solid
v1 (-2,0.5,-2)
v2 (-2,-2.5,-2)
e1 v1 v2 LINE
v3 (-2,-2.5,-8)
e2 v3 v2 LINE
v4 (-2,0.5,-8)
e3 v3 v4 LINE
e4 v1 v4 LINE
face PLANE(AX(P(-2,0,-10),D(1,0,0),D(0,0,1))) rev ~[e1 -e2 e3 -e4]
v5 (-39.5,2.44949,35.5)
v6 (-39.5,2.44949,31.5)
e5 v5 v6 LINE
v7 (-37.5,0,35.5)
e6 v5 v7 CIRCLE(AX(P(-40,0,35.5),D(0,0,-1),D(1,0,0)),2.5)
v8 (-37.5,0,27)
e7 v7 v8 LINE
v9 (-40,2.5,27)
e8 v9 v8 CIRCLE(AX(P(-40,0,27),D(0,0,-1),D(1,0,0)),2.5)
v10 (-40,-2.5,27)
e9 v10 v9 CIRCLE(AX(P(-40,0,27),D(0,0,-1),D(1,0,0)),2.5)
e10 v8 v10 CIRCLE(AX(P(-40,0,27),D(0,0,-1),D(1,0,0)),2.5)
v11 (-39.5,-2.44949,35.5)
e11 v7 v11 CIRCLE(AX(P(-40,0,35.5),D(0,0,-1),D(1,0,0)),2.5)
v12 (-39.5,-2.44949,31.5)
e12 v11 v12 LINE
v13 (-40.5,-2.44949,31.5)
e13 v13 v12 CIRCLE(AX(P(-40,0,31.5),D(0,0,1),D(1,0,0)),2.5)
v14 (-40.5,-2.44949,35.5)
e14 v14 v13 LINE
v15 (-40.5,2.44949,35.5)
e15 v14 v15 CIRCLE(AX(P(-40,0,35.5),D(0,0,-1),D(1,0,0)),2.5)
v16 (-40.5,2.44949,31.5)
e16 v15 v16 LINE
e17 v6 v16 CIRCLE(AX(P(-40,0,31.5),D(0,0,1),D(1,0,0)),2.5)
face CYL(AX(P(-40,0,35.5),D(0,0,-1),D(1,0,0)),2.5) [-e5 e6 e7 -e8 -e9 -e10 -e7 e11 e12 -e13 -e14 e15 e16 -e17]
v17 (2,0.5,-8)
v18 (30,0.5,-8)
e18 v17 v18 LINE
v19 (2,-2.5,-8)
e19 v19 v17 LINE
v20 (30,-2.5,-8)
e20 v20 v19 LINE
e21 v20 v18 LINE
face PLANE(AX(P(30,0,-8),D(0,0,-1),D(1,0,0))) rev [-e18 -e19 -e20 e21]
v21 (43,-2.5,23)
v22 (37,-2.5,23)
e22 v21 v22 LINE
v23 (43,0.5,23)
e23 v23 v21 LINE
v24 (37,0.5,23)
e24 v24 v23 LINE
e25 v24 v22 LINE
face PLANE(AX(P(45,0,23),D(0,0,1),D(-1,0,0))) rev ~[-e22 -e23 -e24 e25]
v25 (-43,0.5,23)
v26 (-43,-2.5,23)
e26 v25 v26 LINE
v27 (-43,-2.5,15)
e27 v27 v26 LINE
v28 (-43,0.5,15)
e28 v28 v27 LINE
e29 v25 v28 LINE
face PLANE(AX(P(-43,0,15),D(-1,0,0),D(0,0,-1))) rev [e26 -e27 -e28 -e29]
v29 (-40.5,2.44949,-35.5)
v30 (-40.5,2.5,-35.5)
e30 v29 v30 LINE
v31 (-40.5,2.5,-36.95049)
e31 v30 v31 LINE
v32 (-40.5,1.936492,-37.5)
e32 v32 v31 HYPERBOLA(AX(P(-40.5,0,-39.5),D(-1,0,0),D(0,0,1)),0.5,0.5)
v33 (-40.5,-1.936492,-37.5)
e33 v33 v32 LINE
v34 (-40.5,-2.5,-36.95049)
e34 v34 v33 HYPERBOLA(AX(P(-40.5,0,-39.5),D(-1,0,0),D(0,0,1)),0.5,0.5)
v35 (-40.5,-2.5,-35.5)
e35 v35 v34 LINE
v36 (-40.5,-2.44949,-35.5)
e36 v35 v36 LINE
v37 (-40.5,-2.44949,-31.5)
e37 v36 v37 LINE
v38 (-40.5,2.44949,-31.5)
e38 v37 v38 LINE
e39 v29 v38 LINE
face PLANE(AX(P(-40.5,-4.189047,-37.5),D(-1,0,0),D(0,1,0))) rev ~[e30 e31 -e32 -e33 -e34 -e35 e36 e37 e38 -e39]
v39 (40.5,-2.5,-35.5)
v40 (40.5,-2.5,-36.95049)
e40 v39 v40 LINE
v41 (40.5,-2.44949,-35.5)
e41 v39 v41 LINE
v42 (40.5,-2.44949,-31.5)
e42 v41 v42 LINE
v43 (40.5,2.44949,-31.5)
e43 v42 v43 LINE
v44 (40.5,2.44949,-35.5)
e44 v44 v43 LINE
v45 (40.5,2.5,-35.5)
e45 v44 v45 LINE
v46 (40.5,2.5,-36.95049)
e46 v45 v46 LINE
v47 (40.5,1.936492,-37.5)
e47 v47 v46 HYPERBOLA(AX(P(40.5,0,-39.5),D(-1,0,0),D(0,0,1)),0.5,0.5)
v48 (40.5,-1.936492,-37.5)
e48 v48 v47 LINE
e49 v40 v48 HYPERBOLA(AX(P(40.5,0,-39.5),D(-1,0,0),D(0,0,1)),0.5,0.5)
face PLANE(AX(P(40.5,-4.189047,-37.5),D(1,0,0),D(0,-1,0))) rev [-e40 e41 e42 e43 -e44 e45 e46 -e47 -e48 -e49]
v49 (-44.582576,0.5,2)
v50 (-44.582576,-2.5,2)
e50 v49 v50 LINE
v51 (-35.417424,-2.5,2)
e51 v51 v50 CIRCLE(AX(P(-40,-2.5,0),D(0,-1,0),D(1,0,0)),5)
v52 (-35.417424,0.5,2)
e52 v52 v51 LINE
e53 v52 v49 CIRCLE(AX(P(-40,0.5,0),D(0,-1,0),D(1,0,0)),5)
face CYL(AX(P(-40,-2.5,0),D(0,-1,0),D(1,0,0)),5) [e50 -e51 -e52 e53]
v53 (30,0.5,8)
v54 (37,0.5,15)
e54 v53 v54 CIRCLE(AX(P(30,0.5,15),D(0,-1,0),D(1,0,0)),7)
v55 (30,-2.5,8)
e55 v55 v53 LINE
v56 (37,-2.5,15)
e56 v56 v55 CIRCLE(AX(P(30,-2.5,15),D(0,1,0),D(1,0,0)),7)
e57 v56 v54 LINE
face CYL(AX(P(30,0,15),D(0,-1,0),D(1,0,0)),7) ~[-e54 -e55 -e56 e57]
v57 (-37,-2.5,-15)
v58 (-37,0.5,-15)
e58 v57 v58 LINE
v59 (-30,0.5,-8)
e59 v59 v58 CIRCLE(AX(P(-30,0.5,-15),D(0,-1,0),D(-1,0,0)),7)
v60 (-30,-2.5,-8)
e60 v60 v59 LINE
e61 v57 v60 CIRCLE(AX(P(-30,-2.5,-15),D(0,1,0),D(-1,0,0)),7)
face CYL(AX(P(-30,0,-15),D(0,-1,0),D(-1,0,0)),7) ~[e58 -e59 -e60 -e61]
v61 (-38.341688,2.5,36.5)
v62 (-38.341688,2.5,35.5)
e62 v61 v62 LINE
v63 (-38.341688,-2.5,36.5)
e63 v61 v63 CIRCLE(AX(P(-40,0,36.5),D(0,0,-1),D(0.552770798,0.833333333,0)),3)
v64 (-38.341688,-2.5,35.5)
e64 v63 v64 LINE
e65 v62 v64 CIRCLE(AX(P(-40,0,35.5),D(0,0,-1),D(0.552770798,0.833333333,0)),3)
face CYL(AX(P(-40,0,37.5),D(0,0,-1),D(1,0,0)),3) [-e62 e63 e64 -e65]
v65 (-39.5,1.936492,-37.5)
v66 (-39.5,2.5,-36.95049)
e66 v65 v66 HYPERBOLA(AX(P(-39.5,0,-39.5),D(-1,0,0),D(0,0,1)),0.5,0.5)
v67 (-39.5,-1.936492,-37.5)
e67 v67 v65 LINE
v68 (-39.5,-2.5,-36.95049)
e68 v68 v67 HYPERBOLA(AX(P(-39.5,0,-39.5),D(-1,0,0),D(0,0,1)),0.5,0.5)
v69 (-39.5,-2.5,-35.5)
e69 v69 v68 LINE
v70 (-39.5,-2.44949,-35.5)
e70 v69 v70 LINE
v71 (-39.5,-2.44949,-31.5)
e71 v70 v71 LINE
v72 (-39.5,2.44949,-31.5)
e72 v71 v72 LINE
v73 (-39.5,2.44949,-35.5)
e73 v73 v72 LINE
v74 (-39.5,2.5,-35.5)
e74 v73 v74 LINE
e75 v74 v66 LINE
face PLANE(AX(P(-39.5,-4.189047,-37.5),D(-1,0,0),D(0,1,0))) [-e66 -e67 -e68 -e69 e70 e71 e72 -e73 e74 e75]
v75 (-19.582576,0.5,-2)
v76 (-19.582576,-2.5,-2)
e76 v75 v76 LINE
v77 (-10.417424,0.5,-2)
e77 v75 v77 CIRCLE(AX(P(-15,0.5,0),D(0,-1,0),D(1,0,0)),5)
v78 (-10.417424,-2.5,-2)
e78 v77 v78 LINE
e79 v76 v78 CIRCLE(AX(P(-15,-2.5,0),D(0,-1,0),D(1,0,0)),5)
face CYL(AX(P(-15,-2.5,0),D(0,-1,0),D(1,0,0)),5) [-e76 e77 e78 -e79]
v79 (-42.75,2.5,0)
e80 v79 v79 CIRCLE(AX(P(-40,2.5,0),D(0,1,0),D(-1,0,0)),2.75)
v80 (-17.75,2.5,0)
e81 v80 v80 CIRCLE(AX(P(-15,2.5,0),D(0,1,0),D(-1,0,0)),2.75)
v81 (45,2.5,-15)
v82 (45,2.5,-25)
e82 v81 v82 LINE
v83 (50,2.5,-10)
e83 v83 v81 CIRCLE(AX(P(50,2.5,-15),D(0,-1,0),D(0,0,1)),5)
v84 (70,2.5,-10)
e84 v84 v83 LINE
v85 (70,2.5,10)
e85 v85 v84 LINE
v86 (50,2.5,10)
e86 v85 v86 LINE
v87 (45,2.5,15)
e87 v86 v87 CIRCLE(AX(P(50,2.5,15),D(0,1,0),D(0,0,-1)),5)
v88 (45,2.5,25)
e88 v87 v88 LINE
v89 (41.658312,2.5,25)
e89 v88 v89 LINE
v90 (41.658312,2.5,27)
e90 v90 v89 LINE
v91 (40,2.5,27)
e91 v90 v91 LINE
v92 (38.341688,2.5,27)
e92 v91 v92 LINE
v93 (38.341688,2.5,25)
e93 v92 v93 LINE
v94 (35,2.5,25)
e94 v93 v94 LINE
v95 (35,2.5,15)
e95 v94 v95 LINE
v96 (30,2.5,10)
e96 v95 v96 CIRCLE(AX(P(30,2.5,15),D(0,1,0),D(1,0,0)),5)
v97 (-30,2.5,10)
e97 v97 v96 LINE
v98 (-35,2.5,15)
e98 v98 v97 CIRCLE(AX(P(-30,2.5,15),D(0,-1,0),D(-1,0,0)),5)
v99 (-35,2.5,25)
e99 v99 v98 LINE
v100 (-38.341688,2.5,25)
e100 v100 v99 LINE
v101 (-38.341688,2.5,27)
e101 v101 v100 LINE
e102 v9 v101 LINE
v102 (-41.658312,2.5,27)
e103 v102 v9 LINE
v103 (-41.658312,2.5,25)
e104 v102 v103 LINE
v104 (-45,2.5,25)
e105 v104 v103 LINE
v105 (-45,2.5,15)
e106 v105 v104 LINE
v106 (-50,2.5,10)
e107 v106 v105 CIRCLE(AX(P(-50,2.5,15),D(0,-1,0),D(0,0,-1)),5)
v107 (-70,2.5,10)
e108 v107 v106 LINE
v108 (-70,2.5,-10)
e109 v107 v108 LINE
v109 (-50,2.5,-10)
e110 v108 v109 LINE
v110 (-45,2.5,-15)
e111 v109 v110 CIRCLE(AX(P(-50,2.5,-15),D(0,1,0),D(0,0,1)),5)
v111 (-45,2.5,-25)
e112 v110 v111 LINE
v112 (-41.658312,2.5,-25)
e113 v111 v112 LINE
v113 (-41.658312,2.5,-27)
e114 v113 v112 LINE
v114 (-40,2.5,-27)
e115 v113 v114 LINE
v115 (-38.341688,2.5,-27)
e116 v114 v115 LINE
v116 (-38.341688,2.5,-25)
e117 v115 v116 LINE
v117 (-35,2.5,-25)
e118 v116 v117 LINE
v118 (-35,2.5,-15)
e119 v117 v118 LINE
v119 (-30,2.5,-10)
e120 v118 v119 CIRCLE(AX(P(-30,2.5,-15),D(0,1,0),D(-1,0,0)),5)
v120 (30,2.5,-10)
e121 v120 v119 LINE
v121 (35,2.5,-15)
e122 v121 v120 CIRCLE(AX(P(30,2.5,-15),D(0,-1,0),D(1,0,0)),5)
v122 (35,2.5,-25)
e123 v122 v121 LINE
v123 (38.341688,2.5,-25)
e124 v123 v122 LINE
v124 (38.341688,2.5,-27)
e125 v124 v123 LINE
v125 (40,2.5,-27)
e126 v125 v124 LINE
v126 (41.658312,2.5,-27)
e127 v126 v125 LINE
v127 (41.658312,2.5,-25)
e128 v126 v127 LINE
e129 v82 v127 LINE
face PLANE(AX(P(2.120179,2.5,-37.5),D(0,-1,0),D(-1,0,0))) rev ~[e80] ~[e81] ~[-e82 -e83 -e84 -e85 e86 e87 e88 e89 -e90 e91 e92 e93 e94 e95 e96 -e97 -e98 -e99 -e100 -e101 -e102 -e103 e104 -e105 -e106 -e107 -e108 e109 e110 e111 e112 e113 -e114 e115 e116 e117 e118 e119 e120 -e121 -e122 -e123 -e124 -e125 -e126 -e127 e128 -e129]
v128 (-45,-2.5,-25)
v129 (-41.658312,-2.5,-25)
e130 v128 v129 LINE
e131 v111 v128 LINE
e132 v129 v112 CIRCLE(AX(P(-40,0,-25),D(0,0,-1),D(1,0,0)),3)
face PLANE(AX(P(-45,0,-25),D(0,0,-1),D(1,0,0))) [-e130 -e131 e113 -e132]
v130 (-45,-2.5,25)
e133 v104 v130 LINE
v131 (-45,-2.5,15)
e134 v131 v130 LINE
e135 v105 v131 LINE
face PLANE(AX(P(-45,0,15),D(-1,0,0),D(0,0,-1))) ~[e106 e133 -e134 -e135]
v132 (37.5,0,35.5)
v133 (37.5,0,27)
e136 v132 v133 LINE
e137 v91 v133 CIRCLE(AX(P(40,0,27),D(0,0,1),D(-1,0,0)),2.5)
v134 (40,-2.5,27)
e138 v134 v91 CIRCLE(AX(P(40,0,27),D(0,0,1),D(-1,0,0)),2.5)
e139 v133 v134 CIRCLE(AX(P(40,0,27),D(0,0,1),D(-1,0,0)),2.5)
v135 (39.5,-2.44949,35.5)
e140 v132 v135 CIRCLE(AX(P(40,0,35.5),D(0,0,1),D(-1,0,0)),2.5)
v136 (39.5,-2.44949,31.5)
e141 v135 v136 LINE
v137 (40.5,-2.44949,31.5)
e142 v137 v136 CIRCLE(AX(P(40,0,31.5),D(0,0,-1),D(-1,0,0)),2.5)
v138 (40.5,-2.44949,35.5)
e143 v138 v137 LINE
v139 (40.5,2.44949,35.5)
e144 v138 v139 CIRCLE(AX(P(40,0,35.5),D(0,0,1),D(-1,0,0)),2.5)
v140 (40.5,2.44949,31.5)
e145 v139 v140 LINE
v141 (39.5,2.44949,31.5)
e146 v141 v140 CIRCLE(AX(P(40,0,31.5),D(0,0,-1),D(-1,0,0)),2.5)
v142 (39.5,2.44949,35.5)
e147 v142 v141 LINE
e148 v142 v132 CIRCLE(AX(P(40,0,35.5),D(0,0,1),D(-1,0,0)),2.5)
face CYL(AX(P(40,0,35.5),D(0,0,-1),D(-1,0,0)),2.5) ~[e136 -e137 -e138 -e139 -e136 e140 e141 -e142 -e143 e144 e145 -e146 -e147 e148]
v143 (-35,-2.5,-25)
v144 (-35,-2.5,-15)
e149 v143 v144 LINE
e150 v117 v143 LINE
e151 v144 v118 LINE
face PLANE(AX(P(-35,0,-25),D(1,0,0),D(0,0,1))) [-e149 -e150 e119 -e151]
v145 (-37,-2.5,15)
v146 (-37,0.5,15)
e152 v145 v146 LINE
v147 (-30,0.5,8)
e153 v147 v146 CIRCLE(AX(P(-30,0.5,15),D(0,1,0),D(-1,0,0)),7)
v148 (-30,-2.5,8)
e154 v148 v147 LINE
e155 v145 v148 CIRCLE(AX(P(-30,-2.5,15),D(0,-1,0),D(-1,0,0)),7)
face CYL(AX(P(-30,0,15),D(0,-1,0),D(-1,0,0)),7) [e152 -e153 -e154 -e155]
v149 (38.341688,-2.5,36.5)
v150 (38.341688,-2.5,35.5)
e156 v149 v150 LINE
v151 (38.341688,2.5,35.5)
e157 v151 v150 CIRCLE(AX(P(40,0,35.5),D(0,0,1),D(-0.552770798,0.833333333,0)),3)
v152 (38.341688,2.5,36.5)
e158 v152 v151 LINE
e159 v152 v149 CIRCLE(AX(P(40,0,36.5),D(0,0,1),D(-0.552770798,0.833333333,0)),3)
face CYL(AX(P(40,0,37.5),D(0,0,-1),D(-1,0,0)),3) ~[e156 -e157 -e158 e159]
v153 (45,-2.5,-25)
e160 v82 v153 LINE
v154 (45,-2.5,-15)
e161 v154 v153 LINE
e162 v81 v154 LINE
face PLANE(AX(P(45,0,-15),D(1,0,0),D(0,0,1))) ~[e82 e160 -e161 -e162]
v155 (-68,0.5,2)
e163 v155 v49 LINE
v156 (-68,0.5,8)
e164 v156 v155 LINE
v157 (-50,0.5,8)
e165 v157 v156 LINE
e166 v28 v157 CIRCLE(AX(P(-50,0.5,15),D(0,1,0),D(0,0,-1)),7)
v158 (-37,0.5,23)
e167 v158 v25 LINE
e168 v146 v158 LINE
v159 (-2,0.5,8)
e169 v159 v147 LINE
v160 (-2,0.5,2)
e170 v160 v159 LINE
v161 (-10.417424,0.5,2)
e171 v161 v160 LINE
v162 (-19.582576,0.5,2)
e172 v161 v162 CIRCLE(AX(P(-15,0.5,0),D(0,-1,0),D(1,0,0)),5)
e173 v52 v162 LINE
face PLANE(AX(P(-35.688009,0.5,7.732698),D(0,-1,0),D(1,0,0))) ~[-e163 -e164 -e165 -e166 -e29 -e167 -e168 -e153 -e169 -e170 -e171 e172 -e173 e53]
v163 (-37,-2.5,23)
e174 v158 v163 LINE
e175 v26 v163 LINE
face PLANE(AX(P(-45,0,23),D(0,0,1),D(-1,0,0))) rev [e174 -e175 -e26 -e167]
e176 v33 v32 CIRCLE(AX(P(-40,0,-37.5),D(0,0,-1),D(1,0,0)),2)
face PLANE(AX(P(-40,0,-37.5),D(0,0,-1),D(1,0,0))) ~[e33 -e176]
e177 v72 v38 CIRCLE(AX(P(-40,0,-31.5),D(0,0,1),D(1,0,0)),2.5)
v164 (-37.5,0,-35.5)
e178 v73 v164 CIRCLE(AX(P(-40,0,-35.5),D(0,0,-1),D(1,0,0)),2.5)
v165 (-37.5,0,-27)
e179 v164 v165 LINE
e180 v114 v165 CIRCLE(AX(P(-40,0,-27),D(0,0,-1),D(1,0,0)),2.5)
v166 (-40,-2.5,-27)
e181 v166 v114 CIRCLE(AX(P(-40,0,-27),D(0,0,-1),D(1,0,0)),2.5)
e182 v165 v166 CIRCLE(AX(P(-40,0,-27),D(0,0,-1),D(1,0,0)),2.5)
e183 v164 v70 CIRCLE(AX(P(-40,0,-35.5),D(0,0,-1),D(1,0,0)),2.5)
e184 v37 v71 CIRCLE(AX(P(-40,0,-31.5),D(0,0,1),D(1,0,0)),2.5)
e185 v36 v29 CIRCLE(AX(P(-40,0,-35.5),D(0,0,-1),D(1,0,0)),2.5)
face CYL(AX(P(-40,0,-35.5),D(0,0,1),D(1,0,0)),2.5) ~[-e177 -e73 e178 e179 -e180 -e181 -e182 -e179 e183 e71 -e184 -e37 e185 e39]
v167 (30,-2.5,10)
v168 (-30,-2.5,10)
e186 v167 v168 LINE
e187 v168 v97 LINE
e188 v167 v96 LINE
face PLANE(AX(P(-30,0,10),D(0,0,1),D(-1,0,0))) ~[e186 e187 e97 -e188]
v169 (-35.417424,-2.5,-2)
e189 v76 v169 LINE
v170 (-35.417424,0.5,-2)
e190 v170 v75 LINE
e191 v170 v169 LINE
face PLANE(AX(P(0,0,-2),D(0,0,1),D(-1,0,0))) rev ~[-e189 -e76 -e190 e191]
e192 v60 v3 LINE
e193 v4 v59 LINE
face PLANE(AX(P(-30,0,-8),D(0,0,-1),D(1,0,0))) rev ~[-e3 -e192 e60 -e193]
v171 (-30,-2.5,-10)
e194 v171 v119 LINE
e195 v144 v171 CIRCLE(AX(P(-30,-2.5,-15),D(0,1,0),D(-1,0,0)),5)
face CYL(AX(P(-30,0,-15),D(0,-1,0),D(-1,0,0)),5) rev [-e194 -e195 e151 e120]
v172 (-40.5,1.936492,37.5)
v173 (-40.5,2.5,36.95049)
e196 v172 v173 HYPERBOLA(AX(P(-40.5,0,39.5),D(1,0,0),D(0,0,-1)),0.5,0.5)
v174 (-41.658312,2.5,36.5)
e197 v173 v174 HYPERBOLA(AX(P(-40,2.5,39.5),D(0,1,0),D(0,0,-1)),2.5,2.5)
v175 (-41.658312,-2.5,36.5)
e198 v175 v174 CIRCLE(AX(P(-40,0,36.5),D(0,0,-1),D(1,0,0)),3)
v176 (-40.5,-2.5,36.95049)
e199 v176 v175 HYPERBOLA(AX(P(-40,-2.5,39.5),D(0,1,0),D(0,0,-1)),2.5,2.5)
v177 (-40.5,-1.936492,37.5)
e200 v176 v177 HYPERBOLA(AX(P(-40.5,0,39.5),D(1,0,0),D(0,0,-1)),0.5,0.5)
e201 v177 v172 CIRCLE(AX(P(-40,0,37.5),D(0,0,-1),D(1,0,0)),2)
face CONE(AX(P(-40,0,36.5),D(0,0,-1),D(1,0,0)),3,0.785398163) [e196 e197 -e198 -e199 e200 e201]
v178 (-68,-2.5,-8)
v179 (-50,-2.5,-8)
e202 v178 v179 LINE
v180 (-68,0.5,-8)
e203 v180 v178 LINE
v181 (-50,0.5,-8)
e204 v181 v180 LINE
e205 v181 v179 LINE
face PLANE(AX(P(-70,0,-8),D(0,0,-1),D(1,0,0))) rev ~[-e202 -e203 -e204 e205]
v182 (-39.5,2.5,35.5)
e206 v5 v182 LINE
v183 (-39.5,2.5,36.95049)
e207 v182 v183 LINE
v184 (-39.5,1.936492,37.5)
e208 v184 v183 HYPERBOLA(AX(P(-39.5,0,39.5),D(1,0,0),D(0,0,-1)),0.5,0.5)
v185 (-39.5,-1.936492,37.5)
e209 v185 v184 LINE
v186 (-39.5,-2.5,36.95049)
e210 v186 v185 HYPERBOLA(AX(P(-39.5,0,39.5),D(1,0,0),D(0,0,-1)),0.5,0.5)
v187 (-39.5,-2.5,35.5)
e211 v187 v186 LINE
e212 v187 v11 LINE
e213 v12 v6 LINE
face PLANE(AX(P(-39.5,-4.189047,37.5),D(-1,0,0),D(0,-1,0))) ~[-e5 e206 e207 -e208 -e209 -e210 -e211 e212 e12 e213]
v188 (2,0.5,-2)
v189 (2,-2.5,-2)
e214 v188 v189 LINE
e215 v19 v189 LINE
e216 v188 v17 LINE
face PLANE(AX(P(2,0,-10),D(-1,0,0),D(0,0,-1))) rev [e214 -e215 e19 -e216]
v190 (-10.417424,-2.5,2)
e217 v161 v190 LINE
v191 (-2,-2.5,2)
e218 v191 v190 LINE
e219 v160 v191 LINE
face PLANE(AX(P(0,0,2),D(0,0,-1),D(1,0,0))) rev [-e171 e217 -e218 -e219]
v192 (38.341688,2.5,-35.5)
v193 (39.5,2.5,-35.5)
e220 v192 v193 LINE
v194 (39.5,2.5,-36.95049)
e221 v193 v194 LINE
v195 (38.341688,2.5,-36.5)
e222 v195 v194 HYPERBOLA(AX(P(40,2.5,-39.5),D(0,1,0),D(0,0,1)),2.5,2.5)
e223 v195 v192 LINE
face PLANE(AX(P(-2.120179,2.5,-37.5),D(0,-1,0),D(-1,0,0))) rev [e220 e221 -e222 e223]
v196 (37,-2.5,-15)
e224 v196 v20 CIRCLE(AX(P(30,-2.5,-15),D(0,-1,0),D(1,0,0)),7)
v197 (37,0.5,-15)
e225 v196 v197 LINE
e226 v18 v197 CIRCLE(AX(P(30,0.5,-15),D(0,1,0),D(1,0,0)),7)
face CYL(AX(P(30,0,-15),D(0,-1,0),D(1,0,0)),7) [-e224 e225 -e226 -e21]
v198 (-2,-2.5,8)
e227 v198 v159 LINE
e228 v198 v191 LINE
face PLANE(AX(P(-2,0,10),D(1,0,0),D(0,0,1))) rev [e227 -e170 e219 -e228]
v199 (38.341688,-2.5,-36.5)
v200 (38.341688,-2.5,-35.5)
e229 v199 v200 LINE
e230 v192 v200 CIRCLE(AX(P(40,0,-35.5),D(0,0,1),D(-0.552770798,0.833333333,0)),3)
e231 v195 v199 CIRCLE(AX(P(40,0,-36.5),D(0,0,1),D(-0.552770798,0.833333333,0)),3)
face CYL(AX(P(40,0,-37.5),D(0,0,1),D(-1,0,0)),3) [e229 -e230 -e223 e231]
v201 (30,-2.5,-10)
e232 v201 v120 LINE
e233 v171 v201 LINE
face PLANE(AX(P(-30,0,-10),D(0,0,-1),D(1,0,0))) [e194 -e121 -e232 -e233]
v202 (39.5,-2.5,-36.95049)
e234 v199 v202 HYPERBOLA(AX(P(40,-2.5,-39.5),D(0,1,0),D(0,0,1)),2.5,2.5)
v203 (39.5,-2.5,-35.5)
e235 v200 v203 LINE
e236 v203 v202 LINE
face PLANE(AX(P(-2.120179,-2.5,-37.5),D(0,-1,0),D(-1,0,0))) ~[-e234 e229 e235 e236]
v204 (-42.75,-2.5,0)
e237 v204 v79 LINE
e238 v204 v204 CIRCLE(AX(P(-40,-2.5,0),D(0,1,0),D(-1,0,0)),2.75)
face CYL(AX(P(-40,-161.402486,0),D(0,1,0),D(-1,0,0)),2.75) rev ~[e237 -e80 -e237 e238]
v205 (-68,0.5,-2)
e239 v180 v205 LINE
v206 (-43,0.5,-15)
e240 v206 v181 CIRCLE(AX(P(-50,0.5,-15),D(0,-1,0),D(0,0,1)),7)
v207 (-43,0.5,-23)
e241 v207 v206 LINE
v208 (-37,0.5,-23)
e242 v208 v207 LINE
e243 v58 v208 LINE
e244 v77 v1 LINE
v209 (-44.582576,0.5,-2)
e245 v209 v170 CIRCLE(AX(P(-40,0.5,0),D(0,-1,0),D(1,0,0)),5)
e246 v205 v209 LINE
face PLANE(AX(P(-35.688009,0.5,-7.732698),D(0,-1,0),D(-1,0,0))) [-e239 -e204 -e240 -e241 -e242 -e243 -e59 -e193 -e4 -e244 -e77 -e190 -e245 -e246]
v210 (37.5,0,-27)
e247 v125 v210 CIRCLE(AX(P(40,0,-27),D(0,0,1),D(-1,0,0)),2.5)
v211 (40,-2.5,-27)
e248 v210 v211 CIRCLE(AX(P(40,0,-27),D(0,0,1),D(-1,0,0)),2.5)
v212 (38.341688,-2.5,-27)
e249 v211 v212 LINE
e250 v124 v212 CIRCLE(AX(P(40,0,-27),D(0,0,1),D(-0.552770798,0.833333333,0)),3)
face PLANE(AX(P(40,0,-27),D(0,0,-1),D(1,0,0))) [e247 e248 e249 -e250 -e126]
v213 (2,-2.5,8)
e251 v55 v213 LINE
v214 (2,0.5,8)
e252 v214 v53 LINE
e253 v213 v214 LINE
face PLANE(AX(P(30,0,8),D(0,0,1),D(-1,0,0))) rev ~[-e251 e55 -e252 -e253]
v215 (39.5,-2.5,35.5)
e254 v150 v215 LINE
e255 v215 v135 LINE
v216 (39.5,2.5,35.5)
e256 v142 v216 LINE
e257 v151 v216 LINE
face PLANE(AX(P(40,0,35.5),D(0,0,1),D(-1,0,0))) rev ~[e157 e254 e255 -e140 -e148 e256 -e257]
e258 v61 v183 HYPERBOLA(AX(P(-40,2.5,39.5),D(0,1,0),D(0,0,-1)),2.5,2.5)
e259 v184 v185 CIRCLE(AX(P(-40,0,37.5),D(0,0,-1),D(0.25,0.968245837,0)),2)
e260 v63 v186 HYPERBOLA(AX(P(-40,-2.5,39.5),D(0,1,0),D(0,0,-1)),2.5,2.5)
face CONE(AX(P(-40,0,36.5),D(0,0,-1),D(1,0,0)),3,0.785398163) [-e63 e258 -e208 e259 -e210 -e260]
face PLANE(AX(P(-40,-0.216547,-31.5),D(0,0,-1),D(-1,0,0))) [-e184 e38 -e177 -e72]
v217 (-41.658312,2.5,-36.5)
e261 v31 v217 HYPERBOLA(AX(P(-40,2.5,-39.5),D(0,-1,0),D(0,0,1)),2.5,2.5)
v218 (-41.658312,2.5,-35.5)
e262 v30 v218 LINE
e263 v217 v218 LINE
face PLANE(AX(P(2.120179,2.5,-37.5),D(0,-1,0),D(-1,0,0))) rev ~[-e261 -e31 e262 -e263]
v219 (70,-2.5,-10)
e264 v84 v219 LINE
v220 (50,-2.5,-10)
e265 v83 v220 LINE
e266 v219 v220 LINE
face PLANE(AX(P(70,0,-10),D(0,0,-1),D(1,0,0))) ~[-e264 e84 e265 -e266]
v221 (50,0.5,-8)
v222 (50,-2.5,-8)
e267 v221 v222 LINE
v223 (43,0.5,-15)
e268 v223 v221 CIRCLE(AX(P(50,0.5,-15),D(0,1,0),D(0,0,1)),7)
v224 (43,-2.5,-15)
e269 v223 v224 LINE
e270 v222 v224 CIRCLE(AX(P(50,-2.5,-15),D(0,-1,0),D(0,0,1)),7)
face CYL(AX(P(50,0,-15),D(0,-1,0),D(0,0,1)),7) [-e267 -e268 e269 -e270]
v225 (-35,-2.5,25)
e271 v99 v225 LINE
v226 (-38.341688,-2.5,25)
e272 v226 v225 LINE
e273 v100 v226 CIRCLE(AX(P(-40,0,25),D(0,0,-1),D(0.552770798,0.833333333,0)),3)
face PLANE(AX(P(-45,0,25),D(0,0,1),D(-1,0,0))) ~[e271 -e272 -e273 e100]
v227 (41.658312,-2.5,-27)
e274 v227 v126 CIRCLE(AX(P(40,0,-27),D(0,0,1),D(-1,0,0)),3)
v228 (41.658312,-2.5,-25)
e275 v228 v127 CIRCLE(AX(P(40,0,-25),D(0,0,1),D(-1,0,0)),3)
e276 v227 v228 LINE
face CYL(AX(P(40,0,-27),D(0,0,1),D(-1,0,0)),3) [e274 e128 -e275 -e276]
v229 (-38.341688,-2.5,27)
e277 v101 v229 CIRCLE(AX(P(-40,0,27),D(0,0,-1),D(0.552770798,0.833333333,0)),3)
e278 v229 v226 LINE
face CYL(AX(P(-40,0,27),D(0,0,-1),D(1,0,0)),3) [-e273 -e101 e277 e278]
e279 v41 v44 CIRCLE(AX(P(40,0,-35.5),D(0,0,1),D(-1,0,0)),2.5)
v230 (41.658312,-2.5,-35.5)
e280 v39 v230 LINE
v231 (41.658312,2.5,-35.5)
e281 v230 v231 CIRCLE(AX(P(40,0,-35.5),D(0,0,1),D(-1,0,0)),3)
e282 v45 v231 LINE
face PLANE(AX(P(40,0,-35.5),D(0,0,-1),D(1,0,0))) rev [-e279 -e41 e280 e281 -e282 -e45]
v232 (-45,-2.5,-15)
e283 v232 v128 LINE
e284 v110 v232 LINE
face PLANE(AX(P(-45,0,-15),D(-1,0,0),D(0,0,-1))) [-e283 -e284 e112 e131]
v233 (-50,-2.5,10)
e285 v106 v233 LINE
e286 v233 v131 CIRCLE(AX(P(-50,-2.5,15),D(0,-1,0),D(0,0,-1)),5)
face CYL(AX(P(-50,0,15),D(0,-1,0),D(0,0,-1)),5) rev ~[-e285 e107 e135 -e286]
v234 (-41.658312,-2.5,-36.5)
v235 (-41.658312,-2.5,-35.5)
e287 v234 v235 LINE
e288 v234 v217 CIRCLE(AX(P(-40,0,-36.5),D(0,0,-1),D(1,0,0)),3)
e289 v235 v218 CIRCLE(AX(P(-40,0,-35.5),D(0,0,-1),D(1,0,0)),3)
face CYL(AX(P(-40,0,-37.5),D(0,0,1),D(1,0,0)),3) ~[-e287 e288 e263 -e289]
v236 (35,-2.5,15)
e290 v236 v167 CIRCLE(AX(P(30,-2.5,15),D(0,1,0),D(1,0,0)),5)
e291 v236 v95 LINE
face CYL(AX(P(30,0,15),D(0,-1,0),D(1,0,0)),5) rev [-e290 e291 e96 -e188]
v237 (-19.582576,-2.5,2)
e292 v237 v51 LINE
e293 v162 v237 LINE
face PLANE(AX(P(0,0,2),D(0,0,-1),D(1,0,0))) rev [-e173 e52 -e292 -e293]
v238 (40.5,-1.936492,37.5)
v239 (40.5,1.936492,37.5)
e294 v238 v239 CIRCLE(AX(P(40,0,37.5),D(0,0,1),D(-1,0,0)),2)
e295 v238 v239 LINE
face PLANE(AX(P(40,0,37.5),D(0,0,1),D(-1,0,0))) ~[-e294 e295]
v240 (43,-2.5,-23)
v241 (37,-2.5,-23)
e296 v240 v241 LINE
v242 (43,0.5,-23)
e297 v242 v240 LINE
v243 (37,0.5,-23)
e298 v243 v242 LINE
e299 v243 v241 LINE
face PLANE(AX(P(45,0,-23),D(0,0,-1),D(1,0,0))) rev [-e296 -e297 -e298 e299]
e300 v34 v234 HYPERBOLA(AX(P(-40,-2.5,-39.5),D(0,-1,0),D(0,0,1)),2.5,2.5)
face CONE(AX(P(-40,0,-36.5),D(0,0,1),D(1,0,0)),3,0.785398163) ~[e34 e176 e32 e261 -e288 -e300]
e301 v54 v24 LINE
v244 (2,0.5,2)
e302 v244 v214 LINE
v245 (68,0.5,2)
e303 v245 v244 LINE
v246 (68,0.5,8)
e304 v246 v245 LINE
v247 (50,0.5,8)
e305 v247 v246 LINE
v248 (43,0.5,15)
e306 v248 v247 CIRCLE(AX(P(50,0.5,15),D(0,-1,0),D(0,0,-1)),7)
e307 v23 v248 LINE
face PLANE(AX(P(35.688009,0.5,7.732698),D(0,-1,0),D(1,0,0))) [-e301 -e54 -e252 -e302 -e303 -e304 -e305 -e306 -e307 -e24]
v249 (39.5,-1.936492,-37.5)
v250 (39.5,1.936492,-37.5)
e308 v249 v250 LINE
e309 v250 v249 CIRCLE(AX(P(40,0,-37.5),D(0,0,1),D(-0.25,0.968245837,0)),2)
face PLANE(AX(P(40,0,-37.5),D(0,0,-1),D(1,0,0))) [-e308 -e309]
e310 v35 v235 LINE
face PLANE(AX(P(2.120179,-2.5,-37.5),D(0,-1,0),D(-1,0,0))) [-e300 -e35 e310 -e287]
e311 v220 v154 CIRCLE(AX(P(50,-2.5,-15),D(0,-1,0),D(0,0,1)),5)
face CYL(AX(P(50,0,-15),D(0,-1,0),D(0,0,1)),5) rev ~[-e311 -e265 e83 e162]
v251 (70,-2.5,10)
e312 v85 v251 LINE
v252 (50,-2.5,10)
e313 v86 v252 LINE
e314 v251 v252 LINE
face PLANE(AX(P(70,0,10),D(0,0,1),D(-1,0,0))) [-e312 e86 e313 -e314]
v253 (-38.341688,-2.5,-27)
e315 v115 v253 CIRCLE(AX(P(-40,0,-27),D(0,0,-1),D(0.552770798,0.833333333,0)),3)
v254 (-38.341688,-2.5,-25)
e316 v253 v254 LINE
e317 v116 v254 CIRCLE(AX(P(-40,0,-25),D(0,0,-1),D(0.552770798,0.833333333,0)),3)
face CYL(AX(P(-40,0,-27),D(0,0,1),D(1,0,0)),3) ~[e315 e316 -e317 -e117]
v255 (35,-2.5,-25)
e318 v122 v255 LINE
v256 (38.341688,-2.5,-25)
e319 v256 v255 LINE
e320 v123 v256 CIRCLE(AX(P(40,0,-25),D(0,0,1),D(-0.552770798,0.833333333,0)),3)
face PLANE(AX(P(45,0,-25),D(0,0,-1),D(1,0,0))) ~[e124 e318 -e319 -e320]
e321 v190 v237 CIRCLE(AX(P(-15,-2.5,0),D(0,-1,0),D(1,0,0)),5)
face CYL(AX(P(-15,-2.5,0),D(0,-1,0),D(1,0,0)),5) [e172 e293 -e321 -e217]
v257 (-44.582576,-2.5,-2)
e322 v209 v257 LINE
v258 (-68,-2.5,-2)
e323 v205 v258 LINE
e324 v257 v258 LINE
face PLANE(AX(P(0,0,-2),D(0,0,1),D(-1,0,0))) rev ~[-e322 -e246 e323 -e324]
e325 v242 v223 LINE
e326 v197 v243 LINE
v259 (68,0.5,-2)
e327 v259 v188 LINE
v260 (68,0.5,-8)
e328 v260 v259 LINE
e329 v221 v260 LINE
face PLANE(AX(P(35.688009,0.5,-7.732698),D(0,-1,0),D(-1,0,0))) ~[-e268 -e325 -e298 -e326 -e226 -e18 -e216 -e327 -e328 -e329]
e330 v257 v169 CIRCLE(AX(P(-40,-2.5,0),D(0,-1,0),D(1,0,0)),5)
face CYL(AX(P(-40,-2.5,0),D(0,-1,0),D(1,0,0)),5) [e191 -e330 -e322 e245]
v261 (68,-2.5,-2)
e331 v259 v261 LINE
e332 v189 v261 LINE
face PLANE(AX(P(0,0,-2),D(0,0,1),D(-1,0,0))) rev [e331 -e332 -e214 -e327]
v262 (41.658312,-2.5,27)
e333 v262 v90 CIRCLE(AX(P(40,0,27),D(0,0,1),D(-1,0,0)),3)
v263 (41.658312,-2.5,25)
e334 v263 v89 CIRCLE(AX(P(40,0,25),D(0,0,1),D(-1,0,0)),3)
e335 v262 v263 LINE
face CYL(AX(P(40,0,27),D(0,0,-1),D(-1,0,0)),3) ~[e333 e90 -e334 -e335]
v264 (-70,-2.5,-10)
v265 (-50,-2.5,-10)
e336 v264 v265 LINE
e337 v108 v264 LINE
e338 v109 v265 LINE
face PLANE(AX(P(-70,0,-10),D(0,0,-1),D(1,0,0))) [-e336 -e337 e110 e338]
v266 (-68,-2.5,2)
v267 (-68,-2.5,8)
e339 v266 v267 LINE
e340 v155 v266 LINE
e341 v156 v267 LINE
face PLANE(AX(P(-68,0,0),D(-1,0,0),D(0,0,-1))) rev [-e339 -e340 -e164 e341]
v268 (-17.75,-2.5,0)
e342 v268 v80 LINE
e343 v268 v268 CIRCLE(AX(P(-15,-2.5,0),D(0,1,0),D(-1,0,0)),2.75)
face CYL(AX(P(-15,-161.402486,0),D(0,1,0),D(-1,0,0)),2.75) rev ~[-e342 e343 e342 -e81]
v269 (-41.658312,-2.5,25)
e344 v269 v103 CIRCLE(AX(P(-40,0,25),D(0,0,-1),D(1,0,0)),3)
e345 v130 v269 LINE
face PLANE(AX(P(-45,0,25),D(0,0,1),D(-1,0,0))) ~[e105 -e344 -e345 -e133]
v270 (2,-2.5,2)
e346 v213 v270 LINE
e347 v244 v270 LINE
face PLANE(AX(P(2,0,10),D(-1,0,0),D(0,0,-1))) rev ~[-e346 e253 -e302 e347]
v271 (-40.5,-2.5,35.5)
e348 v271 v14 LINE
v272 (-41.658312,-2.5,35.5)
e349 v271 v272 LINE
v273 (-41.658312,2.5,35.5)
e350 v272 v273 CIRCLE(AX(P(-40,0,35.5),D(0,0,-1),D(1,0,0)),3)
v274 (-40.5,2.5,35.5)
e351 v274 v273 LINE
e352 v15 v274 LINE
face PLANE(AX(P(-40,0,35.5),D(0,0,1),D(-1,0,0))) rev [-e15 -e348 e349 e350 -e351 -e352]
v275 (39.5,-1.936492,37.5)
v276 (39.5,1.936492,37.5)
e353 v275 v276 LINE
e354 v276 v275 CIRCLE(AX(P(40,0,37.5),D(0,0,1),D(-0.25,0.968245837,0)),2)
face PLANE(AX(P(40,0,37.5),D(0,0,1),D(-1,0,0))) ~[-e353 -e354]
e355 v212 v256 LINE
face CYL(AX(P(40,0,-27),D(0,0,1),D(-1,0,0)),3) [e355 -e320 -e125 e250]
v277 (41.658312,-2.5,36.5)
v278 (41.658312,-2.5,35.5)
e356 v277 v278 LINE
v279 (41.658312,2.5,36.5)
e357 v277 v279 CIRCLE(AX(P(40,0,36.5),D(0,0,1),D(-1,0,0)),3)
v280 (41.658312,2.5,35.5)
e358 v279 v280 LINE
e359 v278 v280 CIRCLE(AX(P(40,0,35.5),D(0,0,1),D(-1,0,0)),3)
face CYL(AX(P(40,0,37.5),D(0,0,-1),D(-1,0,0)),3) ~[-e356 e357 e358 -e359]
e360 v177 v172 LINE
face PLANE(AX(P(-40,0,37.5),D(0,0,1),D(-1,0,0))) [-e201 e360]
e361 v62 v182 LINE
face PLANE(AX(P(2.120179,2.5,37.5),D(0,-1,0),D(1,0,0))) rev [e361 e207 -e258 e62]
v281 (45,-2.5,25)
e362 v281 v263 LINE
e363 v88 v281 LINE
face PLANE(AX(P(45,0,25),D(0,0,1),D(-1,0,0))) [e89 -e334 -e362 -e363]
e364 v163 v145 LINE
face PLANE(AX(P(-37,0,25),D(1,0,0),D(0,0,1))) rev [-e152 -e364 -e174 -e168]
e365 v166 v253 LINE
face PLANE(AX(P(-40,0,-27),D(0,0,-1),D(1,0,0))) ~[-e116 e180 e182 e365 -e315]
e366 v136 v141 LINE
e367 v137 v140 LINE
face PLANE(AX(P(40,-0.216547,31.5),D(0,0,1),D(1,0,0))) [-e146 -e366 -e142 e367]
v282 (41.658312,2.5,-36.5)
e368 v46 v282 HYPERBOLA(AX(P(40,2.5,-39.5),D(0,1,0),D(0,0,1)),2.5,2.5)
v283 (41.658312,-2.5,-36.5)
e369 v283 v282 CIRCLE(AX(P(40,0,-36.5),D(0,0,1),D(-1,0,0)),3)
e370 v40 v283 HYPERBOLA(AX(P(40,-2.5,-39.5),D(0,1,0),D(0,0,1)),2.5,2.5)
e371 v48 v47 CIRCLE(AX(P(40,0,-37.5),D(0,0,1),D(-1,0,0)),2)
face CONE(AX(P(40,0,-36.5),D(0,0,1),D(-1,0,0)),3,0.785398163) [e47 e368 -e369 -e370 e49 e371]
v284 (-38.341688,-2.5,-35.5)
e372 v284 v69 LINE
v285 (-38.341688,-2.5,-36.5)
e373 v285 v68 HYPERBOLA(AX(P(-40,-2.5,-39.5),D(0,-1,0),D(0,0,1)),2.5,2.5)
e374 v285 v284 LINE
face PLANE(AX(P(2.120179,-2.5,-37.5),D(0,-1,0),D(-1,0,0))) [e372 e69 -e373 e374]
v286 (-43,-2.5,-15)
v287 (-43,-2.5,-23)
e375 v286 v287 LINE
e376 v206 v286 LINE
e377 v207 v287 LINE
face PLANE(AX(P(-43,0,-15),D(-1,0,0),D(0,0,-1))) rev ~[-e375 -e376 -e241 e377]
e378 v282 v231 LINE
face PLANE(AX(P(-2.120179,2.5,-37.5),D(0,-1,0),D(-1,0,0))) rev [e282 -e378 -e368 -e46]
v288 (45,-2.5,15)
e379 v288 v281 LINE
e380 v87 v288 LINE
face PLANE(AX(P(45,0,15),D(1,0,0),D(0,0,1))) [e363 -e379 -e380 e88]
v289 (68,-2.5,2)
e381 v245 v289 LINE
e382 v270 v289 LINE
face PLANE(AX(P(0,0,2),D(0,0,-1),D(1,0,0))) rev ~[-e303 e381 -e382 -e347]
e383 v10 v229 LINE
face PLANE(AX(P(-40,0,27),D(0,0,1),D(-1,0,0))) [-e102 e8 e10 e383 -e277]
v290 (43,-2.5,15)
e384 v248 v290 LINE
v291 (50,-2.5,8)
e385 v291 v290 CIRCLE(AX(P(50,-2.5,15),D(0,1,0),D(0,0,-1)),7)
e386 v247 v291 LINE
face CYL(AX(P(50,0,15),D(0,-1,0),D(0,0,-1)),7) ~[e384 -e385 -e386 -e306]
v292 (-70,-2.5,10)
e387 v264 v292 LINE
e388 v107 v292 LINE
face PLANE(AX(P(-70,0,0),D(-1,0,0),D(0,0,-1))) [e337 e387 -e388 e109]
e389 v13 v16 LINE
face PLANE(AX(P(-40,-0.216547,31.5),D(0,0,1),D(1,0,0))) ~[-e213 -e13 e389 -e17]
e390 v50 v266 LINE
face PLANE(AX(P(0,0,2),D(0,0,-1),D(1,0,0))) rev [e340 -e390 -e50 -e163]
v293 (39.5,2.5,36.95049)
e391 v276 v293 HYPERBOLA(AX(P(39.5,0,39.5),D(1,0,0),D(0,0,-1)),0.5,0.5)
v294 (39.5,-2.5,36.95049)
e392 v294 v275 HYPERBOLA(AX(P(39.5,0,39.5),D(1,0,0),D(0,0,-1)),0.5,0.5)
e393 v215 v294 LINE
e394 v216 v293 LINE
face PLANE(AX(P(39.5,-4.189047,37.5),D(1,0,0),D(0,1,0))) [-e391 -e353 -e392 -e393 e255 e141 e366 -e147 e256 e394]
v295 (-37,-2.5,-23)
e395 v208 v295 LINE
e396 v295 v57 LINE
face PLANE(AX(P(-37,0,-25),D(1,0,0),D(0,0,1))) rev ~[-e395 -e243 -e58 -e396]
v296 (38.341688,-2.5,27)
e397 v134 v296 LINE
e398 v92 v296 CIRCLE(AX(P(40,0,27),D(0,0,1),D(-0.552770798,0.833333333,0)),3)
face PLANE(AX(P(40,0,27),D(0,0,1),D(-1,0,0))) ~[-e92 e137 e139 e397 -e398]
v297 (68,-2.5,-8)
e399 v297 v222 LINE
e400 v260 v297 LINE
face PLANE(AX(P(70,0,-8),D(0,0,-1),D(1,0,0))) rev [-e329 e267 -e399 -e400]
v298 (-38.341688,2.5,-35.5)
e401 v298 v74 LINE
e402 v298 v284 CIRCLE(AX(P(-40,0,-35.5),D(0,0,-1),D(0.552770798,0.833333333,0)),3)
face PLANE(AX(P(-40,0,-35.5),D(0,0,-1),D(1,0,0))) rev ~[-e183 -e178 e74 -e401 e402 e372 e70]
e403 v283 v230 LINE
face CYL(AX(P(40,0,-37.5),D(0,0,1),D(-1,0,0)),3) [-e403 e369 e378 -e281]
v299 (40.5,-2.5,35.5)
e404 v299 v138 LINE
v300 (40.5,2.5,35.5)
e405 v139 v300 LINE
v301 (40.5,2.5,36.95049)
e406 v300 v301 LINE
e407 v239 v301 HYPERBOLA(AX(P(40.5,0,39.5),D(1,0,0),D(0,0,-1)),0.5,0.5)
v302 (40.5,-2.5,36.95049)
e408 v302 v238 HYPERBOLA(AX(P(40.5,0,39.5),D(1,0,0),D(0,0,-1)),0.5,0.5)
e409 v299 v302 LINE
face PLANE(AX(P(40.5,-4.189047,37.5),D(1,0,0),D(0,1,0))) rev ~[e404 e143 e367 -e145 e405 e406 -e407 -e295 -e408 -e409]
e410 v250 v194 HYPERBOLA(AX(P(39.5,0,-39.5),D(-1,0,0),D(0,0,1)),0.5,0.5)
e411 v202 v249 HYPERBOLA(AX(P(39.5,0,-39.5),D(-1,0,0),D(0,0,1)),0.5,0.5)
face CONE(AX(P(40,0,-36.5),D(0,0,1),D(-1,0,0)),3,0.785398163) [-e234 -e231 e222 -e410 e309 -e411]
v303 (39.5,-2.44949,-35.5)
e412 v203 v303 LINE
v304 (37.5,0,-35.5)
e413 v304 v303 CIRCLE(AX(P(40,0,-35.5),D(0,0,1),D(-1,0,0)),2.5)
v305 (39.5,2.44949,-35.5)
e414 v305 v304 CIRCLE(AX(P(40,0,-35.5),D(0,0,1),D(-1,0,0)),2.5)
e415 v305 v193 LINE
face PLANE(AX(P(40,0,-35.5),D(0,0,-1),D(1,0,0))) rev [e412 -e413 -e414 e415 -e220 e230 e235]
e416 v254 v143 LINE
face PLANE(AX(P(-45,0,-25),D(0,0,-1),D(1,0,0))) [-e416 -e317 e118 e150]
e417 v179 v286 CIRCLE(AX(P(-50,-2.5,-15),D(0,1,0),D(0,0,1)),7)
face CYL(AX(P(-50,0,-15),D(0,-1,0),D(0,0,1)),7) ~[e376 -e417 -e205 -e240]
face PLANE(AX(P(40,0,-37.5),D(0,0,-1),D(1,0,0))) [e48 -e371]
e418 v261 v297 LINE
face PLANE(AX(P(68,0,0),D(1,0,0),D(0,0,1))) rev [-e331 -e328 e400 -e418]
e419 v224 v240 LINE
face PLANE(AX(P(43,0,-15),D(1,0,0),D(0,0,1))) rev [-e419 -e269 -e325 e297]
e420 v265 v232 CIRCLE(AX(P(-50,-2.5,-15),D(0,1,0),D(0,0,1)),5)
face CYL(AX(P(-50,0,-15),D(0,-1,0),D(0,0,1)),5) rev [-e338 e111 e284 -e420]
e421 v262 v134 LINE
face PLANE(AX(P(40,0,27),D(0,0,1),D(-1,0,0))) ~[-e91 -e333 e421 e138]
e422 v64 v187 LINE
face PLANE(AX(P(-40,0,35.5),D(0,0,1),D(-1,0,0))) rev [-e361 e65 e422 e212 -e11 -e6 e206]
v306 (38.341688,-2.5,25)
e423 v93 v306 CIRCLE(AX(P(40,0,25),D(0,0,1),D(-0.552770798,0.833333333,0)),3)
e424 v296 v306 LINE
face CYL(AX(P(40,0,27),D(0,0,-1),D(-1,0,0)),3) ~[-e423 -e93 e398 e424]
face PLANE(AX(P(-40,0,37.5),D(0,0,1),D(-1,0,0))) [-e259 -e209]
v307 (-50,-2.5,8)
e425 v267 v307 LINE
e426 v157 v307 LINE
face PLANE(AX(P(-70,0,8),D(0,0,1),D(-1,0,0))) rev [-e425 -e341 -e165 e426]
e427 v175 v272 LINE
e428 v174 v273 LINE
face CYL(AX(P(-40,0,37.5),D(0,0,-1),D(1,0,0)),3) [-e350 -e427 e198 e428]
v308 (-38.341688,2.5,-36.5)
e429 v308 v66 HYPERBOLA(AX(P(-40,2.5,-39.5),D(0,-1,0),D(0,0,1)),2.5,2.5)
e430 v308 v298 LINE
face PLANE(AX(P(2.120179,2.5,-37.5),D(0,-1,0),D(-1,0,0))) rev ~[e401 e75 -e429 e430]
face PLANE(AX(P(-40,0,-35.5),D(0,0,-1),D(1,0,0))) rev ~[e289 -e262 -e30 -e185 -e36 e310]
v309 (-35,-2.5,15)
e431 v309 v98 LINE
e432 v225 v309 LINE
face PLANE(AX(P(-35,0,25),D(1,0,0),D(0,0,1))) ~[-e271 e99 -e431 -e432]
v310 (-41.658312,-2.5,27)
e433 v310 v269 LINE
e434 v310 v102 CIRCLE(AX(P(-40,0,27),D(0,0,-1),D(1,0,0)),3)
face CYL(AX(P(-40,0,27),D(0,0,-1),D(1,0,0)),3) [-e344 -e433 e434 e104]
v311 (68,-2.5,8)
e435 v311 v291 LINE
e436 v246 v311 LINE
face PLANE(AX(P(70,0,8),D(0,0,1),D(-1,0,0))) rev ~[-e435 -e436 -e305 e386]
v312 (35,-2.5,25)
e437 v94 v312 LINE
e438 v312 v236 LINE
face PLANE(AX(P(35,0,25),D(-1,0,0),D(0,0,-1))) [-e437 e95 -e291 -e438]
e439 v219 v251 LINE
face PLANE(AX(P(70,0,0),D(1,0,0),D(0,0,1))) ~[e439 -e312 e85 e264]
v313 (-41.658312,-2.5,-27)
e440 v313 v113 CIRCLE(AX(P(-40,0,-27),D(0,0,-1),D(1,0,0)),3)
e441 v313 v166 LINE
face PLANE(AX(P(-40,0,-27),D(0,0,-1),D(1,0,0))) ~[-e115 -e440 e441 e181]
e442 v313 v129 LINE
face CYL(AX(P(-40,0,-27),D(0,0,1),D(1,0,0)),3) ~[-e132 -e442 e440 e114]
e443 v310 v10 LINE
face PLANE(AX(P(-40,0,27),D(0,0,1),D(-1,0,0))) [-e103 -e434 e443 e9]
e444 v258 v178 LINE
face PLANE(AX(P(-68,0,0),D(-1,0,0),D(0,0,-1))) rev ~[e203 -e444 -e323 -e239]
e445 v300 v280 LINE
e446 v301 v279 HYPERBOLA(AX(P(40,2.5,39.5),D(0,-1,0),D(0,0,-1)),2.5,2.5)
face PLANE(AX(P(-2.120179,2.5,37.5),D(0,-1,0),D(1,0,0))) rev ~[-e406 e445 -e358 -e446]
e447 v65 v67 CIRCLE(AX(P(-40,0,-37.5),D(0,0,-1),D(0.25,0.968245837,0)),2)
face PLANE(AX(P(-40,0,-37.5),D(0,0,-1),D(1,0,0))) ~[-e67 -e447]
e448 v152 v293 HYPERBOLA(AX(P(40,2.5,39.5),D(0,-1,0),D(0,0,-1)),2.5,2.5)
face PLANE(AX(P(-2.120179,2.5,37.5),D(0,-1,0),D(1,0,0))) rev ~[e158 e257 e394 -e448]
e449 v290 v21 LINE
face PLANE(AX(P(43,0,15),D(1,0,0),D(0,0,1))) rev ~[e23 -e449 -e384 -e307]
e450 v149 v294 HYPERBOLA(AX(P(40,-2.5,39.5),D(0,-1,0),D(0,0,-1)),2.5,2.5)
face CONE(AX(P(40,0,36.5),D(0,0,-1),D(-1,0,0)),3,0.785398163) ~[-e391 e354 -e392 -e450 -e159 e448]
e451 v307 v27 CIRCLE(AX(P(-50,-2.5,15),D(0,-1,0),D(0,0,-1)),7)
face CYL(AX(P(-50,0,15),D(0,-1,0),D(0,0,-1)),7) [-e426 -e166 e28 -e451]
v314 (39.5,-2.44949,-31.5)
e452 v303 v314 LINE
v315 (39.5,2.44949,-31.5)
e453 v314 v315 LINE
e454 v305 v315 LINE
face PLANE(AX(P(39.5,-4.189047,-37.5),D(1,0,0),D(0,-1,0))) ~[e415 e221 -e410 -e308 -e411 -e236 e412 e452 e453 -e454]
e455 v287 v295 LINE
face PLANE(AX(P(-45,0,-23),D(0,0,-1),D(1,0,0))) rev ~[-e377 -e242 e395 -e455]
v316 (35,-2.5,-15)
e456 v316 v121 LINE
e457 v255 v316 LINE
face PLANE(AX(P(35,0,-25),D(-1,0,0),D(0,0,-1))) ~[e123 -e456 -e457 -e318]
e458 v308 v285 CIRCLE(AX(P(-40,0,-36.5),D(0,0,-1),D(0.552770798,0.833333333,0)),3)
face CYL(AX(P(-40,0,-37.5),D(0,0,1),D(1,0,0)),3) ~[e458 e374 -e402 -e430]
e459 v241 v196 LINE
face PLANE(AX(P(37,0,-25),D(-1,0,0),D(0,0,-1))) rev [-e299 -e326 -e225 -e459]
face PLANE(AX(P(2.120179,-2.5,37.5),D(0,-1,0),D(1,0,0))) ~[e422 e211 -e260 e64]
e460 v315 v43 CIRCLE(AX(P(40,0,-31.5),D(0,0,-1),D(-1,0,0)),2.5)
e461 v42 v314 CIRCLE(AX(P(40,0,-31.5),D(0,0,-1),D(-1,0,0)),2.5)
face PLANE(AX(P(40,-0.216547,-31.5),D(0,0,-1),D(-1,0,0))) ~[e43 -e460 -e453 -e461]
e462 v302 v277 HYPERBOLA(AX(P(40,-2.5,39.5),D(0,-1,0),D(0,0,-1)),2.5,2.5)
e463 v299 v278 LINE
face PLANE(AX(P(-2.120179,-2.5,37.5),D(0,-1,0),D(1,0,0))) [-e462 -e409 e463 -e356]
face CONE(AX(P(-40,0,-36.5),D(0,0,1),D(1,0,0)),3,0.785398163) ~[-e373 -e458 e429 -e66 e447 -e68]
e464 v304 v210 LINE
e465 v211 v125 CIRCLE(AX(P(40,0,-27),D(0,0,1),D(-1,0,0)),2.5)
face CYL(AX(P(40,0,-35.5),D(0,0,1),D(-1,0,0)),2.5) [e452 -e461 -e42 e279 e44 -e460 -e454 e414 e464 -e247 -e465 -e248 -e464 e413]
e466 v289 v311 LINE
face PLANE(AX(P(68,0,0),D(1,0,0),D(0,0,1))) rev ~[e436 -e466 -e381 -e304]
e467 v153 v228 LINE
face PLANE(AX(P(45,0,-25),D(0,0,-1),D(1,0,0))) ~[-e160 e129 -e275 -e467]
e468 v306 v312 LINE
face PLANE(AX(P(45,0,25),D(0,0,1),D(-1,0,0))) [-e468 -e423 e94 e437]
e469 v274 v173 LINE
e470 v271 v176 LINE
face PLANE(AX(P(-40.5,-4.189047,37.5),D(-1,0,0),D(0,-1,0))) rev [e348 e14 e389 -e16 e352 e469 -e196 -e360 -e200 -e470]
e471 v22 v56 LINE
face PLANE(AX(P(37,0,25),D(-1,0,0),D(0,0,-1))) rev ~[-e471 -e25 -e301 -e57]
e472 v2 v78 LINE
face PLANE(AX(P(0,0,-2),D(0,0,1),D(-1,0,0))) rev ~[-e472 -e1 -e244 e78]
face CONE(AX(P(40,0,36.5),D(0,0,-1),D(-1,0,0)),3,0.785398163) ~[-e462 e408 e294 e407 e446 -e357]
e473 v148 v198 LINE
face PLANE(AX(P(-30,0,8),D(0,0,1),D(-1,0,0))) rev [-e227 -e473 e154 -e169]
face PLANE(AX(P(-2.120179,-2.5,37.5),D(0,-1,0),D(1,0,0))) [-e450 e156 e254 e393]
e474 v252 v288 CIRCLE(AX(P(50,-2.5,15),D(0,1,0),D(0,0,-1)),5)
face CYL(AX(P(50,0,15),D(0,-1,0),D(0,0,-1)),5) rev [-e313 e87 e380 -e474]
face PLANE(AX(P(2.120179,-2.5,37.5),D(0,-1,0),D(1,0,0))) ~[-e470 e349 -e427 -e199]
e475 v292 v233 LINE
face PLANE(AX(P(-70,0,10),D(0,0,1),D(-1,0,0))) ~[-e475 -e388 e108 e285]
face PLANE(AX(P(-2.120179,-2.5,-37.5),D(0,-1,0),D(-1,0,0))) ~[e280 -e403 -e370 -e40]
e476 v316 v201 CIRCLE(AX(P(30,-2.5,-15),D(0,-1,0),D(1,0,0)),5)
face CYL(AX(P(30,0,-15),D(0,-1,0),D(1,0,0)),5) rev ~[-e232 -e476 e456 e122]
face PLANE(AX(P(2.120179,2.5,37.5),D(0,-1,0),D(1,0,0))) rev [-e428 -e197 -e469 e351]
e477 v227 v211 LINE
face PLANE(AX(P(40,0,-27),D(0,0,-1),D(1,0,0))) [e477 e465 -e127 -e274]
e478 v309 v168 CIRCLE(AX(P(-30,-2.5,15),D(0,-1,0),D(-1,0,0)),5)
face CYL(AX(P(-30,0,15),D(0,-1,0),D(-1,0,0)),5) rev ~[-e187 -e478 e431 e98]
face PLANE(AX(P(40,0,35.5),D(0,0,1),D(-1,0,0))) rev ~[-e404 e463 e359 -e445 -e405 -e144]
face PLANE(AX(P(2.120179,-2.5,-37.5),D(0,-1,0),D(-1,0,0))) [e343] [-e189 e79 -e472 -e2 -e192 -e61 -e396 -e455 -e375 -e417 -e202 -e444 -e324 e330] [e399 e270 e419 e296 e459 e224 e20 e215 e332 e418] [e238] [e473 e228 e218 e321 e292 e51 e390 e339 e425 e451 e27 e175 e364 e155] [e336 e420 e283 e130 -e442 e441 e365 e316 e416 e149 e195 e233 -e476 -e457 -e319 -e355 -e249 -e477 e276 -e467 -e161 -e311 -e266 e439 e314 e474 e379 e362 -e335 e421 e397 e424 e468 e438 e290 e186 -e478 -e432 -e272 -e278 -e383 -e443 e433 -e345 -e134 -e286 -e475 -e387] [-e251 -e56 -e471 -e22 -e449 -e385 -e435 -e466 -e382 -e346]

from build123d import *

# Parameters (mm, degrees)
F1_DEPTH  = 2.5
F2_T      = -2
F5_SIZE   = 1
F6_W      = 75
F6_H      = 5
F6_R      = 2
F7_DEPTH  = 37.501
F8_W      = 1
F8_H      = 7.945
F9_DEPTH  = 6
F12_R     = 5
F13_DEPTH = 5
F15_D     = 5.5


with BuildPart() as f1:
    # F0 (on Front) → F1 (new body, symmetric)
    with BuildSketch(Plane.XZ):
        with BuildLine():
            Line((0, 10), (0, 0))
            Line((0, 0), (70, 0))
            Line((70, 0), (70, 10))
            Line((70, 10), (50, 10))
            ThreePointArc((50, 10), (46.4644660941, 11.4644660941), (45, 15))
            Line((45, 15), (45, 25))
            Line((45, 25), (35, 25))
            Line((35, 25), (35, 15))
            ThreePointArc((35, 15), (33.5355339059, 11.4644660941), (30, 10))
            Line((30, 10), (0, 10))
        make_face()
    extrude(amount=F1_DEPTH, both=True)

    # F2
    f2_openings = [f1.faces().sort_by_distance(p)[0] for p in [
        (35.933685, -2.5, 7.254637),
    ]]
    offset(amount=F2_T, openings=f2_openings)

    # F3 (on Front) → F4 (revolve)
    with BuildSketch(Plane.XZ):
        Polygon((40, 25), (40, 37.5), (37, 37.5), (37, 35.5), (37.5, 35.5), (37.5, 27), (37, 27), (37, 25), align=None)
    revolve(axis=Axis((40, 0, 31.25), (0, 0, 1)))

    # F5
    f5_edges = [f1.edges().sort_by_distance(p)[0] for p in [
        (43, 0, 37.5),
    ]]
    chamfer(f5_edges, length=F5_SIZE)

    # F6 (on face) → F7 (intersect, through all)
    with BuildSketch(Plane.XY.offset(37.5)):
        with Locations((35.3798213182, 0)):
            Rectangle(F6_W, F6_H)
        with Locations((40, 0)):
            Circle(F6_R, mode=Mode.SUBTRACT)
        with Locations((40, 0)):
            Circle(F6_R)
    extrude(amount=-F7_DEPTH, mode=Mode.INTERSECT)

    # F8 (on face) → F9 (cut)
    with BuildSketch(Plane.XY.offset(37.5)):
        with Locations((40, -0.2165465654)):
            Rectangle(F8_W, F8_H)
    extrude(amount=-F9_DEPTH, mode=Mode.SUBTRACT)

    # F10: F1 across plane


with BuildPart() as f1_1:
    add(f1.part)
    add(f1.part.mirror(Plane.XY))

    # F11: F1 across plane


with BuildPart() as f1_2:
    add(f1_1.part)
    add(f1_1.part.mirror(Plane.YZ))

    # F12 (on face) → F13 (join, through all)
    with BuildSketch(Plane.XZ.offset(2.5)):
        with Locations((-40, 0)):
            Circle(F12_R)
        with Locations((-15, 0)):
            Circle(F12_R)
    extrude(amount=-F13_DEPTH)

    # F15 (through all)
    with Locations(Plane.XZ.offset(2.5)):
        with Locations((-40, 0), (-15, 0)):
            Hole(F15_D / 2)


solid = f1_2.part
